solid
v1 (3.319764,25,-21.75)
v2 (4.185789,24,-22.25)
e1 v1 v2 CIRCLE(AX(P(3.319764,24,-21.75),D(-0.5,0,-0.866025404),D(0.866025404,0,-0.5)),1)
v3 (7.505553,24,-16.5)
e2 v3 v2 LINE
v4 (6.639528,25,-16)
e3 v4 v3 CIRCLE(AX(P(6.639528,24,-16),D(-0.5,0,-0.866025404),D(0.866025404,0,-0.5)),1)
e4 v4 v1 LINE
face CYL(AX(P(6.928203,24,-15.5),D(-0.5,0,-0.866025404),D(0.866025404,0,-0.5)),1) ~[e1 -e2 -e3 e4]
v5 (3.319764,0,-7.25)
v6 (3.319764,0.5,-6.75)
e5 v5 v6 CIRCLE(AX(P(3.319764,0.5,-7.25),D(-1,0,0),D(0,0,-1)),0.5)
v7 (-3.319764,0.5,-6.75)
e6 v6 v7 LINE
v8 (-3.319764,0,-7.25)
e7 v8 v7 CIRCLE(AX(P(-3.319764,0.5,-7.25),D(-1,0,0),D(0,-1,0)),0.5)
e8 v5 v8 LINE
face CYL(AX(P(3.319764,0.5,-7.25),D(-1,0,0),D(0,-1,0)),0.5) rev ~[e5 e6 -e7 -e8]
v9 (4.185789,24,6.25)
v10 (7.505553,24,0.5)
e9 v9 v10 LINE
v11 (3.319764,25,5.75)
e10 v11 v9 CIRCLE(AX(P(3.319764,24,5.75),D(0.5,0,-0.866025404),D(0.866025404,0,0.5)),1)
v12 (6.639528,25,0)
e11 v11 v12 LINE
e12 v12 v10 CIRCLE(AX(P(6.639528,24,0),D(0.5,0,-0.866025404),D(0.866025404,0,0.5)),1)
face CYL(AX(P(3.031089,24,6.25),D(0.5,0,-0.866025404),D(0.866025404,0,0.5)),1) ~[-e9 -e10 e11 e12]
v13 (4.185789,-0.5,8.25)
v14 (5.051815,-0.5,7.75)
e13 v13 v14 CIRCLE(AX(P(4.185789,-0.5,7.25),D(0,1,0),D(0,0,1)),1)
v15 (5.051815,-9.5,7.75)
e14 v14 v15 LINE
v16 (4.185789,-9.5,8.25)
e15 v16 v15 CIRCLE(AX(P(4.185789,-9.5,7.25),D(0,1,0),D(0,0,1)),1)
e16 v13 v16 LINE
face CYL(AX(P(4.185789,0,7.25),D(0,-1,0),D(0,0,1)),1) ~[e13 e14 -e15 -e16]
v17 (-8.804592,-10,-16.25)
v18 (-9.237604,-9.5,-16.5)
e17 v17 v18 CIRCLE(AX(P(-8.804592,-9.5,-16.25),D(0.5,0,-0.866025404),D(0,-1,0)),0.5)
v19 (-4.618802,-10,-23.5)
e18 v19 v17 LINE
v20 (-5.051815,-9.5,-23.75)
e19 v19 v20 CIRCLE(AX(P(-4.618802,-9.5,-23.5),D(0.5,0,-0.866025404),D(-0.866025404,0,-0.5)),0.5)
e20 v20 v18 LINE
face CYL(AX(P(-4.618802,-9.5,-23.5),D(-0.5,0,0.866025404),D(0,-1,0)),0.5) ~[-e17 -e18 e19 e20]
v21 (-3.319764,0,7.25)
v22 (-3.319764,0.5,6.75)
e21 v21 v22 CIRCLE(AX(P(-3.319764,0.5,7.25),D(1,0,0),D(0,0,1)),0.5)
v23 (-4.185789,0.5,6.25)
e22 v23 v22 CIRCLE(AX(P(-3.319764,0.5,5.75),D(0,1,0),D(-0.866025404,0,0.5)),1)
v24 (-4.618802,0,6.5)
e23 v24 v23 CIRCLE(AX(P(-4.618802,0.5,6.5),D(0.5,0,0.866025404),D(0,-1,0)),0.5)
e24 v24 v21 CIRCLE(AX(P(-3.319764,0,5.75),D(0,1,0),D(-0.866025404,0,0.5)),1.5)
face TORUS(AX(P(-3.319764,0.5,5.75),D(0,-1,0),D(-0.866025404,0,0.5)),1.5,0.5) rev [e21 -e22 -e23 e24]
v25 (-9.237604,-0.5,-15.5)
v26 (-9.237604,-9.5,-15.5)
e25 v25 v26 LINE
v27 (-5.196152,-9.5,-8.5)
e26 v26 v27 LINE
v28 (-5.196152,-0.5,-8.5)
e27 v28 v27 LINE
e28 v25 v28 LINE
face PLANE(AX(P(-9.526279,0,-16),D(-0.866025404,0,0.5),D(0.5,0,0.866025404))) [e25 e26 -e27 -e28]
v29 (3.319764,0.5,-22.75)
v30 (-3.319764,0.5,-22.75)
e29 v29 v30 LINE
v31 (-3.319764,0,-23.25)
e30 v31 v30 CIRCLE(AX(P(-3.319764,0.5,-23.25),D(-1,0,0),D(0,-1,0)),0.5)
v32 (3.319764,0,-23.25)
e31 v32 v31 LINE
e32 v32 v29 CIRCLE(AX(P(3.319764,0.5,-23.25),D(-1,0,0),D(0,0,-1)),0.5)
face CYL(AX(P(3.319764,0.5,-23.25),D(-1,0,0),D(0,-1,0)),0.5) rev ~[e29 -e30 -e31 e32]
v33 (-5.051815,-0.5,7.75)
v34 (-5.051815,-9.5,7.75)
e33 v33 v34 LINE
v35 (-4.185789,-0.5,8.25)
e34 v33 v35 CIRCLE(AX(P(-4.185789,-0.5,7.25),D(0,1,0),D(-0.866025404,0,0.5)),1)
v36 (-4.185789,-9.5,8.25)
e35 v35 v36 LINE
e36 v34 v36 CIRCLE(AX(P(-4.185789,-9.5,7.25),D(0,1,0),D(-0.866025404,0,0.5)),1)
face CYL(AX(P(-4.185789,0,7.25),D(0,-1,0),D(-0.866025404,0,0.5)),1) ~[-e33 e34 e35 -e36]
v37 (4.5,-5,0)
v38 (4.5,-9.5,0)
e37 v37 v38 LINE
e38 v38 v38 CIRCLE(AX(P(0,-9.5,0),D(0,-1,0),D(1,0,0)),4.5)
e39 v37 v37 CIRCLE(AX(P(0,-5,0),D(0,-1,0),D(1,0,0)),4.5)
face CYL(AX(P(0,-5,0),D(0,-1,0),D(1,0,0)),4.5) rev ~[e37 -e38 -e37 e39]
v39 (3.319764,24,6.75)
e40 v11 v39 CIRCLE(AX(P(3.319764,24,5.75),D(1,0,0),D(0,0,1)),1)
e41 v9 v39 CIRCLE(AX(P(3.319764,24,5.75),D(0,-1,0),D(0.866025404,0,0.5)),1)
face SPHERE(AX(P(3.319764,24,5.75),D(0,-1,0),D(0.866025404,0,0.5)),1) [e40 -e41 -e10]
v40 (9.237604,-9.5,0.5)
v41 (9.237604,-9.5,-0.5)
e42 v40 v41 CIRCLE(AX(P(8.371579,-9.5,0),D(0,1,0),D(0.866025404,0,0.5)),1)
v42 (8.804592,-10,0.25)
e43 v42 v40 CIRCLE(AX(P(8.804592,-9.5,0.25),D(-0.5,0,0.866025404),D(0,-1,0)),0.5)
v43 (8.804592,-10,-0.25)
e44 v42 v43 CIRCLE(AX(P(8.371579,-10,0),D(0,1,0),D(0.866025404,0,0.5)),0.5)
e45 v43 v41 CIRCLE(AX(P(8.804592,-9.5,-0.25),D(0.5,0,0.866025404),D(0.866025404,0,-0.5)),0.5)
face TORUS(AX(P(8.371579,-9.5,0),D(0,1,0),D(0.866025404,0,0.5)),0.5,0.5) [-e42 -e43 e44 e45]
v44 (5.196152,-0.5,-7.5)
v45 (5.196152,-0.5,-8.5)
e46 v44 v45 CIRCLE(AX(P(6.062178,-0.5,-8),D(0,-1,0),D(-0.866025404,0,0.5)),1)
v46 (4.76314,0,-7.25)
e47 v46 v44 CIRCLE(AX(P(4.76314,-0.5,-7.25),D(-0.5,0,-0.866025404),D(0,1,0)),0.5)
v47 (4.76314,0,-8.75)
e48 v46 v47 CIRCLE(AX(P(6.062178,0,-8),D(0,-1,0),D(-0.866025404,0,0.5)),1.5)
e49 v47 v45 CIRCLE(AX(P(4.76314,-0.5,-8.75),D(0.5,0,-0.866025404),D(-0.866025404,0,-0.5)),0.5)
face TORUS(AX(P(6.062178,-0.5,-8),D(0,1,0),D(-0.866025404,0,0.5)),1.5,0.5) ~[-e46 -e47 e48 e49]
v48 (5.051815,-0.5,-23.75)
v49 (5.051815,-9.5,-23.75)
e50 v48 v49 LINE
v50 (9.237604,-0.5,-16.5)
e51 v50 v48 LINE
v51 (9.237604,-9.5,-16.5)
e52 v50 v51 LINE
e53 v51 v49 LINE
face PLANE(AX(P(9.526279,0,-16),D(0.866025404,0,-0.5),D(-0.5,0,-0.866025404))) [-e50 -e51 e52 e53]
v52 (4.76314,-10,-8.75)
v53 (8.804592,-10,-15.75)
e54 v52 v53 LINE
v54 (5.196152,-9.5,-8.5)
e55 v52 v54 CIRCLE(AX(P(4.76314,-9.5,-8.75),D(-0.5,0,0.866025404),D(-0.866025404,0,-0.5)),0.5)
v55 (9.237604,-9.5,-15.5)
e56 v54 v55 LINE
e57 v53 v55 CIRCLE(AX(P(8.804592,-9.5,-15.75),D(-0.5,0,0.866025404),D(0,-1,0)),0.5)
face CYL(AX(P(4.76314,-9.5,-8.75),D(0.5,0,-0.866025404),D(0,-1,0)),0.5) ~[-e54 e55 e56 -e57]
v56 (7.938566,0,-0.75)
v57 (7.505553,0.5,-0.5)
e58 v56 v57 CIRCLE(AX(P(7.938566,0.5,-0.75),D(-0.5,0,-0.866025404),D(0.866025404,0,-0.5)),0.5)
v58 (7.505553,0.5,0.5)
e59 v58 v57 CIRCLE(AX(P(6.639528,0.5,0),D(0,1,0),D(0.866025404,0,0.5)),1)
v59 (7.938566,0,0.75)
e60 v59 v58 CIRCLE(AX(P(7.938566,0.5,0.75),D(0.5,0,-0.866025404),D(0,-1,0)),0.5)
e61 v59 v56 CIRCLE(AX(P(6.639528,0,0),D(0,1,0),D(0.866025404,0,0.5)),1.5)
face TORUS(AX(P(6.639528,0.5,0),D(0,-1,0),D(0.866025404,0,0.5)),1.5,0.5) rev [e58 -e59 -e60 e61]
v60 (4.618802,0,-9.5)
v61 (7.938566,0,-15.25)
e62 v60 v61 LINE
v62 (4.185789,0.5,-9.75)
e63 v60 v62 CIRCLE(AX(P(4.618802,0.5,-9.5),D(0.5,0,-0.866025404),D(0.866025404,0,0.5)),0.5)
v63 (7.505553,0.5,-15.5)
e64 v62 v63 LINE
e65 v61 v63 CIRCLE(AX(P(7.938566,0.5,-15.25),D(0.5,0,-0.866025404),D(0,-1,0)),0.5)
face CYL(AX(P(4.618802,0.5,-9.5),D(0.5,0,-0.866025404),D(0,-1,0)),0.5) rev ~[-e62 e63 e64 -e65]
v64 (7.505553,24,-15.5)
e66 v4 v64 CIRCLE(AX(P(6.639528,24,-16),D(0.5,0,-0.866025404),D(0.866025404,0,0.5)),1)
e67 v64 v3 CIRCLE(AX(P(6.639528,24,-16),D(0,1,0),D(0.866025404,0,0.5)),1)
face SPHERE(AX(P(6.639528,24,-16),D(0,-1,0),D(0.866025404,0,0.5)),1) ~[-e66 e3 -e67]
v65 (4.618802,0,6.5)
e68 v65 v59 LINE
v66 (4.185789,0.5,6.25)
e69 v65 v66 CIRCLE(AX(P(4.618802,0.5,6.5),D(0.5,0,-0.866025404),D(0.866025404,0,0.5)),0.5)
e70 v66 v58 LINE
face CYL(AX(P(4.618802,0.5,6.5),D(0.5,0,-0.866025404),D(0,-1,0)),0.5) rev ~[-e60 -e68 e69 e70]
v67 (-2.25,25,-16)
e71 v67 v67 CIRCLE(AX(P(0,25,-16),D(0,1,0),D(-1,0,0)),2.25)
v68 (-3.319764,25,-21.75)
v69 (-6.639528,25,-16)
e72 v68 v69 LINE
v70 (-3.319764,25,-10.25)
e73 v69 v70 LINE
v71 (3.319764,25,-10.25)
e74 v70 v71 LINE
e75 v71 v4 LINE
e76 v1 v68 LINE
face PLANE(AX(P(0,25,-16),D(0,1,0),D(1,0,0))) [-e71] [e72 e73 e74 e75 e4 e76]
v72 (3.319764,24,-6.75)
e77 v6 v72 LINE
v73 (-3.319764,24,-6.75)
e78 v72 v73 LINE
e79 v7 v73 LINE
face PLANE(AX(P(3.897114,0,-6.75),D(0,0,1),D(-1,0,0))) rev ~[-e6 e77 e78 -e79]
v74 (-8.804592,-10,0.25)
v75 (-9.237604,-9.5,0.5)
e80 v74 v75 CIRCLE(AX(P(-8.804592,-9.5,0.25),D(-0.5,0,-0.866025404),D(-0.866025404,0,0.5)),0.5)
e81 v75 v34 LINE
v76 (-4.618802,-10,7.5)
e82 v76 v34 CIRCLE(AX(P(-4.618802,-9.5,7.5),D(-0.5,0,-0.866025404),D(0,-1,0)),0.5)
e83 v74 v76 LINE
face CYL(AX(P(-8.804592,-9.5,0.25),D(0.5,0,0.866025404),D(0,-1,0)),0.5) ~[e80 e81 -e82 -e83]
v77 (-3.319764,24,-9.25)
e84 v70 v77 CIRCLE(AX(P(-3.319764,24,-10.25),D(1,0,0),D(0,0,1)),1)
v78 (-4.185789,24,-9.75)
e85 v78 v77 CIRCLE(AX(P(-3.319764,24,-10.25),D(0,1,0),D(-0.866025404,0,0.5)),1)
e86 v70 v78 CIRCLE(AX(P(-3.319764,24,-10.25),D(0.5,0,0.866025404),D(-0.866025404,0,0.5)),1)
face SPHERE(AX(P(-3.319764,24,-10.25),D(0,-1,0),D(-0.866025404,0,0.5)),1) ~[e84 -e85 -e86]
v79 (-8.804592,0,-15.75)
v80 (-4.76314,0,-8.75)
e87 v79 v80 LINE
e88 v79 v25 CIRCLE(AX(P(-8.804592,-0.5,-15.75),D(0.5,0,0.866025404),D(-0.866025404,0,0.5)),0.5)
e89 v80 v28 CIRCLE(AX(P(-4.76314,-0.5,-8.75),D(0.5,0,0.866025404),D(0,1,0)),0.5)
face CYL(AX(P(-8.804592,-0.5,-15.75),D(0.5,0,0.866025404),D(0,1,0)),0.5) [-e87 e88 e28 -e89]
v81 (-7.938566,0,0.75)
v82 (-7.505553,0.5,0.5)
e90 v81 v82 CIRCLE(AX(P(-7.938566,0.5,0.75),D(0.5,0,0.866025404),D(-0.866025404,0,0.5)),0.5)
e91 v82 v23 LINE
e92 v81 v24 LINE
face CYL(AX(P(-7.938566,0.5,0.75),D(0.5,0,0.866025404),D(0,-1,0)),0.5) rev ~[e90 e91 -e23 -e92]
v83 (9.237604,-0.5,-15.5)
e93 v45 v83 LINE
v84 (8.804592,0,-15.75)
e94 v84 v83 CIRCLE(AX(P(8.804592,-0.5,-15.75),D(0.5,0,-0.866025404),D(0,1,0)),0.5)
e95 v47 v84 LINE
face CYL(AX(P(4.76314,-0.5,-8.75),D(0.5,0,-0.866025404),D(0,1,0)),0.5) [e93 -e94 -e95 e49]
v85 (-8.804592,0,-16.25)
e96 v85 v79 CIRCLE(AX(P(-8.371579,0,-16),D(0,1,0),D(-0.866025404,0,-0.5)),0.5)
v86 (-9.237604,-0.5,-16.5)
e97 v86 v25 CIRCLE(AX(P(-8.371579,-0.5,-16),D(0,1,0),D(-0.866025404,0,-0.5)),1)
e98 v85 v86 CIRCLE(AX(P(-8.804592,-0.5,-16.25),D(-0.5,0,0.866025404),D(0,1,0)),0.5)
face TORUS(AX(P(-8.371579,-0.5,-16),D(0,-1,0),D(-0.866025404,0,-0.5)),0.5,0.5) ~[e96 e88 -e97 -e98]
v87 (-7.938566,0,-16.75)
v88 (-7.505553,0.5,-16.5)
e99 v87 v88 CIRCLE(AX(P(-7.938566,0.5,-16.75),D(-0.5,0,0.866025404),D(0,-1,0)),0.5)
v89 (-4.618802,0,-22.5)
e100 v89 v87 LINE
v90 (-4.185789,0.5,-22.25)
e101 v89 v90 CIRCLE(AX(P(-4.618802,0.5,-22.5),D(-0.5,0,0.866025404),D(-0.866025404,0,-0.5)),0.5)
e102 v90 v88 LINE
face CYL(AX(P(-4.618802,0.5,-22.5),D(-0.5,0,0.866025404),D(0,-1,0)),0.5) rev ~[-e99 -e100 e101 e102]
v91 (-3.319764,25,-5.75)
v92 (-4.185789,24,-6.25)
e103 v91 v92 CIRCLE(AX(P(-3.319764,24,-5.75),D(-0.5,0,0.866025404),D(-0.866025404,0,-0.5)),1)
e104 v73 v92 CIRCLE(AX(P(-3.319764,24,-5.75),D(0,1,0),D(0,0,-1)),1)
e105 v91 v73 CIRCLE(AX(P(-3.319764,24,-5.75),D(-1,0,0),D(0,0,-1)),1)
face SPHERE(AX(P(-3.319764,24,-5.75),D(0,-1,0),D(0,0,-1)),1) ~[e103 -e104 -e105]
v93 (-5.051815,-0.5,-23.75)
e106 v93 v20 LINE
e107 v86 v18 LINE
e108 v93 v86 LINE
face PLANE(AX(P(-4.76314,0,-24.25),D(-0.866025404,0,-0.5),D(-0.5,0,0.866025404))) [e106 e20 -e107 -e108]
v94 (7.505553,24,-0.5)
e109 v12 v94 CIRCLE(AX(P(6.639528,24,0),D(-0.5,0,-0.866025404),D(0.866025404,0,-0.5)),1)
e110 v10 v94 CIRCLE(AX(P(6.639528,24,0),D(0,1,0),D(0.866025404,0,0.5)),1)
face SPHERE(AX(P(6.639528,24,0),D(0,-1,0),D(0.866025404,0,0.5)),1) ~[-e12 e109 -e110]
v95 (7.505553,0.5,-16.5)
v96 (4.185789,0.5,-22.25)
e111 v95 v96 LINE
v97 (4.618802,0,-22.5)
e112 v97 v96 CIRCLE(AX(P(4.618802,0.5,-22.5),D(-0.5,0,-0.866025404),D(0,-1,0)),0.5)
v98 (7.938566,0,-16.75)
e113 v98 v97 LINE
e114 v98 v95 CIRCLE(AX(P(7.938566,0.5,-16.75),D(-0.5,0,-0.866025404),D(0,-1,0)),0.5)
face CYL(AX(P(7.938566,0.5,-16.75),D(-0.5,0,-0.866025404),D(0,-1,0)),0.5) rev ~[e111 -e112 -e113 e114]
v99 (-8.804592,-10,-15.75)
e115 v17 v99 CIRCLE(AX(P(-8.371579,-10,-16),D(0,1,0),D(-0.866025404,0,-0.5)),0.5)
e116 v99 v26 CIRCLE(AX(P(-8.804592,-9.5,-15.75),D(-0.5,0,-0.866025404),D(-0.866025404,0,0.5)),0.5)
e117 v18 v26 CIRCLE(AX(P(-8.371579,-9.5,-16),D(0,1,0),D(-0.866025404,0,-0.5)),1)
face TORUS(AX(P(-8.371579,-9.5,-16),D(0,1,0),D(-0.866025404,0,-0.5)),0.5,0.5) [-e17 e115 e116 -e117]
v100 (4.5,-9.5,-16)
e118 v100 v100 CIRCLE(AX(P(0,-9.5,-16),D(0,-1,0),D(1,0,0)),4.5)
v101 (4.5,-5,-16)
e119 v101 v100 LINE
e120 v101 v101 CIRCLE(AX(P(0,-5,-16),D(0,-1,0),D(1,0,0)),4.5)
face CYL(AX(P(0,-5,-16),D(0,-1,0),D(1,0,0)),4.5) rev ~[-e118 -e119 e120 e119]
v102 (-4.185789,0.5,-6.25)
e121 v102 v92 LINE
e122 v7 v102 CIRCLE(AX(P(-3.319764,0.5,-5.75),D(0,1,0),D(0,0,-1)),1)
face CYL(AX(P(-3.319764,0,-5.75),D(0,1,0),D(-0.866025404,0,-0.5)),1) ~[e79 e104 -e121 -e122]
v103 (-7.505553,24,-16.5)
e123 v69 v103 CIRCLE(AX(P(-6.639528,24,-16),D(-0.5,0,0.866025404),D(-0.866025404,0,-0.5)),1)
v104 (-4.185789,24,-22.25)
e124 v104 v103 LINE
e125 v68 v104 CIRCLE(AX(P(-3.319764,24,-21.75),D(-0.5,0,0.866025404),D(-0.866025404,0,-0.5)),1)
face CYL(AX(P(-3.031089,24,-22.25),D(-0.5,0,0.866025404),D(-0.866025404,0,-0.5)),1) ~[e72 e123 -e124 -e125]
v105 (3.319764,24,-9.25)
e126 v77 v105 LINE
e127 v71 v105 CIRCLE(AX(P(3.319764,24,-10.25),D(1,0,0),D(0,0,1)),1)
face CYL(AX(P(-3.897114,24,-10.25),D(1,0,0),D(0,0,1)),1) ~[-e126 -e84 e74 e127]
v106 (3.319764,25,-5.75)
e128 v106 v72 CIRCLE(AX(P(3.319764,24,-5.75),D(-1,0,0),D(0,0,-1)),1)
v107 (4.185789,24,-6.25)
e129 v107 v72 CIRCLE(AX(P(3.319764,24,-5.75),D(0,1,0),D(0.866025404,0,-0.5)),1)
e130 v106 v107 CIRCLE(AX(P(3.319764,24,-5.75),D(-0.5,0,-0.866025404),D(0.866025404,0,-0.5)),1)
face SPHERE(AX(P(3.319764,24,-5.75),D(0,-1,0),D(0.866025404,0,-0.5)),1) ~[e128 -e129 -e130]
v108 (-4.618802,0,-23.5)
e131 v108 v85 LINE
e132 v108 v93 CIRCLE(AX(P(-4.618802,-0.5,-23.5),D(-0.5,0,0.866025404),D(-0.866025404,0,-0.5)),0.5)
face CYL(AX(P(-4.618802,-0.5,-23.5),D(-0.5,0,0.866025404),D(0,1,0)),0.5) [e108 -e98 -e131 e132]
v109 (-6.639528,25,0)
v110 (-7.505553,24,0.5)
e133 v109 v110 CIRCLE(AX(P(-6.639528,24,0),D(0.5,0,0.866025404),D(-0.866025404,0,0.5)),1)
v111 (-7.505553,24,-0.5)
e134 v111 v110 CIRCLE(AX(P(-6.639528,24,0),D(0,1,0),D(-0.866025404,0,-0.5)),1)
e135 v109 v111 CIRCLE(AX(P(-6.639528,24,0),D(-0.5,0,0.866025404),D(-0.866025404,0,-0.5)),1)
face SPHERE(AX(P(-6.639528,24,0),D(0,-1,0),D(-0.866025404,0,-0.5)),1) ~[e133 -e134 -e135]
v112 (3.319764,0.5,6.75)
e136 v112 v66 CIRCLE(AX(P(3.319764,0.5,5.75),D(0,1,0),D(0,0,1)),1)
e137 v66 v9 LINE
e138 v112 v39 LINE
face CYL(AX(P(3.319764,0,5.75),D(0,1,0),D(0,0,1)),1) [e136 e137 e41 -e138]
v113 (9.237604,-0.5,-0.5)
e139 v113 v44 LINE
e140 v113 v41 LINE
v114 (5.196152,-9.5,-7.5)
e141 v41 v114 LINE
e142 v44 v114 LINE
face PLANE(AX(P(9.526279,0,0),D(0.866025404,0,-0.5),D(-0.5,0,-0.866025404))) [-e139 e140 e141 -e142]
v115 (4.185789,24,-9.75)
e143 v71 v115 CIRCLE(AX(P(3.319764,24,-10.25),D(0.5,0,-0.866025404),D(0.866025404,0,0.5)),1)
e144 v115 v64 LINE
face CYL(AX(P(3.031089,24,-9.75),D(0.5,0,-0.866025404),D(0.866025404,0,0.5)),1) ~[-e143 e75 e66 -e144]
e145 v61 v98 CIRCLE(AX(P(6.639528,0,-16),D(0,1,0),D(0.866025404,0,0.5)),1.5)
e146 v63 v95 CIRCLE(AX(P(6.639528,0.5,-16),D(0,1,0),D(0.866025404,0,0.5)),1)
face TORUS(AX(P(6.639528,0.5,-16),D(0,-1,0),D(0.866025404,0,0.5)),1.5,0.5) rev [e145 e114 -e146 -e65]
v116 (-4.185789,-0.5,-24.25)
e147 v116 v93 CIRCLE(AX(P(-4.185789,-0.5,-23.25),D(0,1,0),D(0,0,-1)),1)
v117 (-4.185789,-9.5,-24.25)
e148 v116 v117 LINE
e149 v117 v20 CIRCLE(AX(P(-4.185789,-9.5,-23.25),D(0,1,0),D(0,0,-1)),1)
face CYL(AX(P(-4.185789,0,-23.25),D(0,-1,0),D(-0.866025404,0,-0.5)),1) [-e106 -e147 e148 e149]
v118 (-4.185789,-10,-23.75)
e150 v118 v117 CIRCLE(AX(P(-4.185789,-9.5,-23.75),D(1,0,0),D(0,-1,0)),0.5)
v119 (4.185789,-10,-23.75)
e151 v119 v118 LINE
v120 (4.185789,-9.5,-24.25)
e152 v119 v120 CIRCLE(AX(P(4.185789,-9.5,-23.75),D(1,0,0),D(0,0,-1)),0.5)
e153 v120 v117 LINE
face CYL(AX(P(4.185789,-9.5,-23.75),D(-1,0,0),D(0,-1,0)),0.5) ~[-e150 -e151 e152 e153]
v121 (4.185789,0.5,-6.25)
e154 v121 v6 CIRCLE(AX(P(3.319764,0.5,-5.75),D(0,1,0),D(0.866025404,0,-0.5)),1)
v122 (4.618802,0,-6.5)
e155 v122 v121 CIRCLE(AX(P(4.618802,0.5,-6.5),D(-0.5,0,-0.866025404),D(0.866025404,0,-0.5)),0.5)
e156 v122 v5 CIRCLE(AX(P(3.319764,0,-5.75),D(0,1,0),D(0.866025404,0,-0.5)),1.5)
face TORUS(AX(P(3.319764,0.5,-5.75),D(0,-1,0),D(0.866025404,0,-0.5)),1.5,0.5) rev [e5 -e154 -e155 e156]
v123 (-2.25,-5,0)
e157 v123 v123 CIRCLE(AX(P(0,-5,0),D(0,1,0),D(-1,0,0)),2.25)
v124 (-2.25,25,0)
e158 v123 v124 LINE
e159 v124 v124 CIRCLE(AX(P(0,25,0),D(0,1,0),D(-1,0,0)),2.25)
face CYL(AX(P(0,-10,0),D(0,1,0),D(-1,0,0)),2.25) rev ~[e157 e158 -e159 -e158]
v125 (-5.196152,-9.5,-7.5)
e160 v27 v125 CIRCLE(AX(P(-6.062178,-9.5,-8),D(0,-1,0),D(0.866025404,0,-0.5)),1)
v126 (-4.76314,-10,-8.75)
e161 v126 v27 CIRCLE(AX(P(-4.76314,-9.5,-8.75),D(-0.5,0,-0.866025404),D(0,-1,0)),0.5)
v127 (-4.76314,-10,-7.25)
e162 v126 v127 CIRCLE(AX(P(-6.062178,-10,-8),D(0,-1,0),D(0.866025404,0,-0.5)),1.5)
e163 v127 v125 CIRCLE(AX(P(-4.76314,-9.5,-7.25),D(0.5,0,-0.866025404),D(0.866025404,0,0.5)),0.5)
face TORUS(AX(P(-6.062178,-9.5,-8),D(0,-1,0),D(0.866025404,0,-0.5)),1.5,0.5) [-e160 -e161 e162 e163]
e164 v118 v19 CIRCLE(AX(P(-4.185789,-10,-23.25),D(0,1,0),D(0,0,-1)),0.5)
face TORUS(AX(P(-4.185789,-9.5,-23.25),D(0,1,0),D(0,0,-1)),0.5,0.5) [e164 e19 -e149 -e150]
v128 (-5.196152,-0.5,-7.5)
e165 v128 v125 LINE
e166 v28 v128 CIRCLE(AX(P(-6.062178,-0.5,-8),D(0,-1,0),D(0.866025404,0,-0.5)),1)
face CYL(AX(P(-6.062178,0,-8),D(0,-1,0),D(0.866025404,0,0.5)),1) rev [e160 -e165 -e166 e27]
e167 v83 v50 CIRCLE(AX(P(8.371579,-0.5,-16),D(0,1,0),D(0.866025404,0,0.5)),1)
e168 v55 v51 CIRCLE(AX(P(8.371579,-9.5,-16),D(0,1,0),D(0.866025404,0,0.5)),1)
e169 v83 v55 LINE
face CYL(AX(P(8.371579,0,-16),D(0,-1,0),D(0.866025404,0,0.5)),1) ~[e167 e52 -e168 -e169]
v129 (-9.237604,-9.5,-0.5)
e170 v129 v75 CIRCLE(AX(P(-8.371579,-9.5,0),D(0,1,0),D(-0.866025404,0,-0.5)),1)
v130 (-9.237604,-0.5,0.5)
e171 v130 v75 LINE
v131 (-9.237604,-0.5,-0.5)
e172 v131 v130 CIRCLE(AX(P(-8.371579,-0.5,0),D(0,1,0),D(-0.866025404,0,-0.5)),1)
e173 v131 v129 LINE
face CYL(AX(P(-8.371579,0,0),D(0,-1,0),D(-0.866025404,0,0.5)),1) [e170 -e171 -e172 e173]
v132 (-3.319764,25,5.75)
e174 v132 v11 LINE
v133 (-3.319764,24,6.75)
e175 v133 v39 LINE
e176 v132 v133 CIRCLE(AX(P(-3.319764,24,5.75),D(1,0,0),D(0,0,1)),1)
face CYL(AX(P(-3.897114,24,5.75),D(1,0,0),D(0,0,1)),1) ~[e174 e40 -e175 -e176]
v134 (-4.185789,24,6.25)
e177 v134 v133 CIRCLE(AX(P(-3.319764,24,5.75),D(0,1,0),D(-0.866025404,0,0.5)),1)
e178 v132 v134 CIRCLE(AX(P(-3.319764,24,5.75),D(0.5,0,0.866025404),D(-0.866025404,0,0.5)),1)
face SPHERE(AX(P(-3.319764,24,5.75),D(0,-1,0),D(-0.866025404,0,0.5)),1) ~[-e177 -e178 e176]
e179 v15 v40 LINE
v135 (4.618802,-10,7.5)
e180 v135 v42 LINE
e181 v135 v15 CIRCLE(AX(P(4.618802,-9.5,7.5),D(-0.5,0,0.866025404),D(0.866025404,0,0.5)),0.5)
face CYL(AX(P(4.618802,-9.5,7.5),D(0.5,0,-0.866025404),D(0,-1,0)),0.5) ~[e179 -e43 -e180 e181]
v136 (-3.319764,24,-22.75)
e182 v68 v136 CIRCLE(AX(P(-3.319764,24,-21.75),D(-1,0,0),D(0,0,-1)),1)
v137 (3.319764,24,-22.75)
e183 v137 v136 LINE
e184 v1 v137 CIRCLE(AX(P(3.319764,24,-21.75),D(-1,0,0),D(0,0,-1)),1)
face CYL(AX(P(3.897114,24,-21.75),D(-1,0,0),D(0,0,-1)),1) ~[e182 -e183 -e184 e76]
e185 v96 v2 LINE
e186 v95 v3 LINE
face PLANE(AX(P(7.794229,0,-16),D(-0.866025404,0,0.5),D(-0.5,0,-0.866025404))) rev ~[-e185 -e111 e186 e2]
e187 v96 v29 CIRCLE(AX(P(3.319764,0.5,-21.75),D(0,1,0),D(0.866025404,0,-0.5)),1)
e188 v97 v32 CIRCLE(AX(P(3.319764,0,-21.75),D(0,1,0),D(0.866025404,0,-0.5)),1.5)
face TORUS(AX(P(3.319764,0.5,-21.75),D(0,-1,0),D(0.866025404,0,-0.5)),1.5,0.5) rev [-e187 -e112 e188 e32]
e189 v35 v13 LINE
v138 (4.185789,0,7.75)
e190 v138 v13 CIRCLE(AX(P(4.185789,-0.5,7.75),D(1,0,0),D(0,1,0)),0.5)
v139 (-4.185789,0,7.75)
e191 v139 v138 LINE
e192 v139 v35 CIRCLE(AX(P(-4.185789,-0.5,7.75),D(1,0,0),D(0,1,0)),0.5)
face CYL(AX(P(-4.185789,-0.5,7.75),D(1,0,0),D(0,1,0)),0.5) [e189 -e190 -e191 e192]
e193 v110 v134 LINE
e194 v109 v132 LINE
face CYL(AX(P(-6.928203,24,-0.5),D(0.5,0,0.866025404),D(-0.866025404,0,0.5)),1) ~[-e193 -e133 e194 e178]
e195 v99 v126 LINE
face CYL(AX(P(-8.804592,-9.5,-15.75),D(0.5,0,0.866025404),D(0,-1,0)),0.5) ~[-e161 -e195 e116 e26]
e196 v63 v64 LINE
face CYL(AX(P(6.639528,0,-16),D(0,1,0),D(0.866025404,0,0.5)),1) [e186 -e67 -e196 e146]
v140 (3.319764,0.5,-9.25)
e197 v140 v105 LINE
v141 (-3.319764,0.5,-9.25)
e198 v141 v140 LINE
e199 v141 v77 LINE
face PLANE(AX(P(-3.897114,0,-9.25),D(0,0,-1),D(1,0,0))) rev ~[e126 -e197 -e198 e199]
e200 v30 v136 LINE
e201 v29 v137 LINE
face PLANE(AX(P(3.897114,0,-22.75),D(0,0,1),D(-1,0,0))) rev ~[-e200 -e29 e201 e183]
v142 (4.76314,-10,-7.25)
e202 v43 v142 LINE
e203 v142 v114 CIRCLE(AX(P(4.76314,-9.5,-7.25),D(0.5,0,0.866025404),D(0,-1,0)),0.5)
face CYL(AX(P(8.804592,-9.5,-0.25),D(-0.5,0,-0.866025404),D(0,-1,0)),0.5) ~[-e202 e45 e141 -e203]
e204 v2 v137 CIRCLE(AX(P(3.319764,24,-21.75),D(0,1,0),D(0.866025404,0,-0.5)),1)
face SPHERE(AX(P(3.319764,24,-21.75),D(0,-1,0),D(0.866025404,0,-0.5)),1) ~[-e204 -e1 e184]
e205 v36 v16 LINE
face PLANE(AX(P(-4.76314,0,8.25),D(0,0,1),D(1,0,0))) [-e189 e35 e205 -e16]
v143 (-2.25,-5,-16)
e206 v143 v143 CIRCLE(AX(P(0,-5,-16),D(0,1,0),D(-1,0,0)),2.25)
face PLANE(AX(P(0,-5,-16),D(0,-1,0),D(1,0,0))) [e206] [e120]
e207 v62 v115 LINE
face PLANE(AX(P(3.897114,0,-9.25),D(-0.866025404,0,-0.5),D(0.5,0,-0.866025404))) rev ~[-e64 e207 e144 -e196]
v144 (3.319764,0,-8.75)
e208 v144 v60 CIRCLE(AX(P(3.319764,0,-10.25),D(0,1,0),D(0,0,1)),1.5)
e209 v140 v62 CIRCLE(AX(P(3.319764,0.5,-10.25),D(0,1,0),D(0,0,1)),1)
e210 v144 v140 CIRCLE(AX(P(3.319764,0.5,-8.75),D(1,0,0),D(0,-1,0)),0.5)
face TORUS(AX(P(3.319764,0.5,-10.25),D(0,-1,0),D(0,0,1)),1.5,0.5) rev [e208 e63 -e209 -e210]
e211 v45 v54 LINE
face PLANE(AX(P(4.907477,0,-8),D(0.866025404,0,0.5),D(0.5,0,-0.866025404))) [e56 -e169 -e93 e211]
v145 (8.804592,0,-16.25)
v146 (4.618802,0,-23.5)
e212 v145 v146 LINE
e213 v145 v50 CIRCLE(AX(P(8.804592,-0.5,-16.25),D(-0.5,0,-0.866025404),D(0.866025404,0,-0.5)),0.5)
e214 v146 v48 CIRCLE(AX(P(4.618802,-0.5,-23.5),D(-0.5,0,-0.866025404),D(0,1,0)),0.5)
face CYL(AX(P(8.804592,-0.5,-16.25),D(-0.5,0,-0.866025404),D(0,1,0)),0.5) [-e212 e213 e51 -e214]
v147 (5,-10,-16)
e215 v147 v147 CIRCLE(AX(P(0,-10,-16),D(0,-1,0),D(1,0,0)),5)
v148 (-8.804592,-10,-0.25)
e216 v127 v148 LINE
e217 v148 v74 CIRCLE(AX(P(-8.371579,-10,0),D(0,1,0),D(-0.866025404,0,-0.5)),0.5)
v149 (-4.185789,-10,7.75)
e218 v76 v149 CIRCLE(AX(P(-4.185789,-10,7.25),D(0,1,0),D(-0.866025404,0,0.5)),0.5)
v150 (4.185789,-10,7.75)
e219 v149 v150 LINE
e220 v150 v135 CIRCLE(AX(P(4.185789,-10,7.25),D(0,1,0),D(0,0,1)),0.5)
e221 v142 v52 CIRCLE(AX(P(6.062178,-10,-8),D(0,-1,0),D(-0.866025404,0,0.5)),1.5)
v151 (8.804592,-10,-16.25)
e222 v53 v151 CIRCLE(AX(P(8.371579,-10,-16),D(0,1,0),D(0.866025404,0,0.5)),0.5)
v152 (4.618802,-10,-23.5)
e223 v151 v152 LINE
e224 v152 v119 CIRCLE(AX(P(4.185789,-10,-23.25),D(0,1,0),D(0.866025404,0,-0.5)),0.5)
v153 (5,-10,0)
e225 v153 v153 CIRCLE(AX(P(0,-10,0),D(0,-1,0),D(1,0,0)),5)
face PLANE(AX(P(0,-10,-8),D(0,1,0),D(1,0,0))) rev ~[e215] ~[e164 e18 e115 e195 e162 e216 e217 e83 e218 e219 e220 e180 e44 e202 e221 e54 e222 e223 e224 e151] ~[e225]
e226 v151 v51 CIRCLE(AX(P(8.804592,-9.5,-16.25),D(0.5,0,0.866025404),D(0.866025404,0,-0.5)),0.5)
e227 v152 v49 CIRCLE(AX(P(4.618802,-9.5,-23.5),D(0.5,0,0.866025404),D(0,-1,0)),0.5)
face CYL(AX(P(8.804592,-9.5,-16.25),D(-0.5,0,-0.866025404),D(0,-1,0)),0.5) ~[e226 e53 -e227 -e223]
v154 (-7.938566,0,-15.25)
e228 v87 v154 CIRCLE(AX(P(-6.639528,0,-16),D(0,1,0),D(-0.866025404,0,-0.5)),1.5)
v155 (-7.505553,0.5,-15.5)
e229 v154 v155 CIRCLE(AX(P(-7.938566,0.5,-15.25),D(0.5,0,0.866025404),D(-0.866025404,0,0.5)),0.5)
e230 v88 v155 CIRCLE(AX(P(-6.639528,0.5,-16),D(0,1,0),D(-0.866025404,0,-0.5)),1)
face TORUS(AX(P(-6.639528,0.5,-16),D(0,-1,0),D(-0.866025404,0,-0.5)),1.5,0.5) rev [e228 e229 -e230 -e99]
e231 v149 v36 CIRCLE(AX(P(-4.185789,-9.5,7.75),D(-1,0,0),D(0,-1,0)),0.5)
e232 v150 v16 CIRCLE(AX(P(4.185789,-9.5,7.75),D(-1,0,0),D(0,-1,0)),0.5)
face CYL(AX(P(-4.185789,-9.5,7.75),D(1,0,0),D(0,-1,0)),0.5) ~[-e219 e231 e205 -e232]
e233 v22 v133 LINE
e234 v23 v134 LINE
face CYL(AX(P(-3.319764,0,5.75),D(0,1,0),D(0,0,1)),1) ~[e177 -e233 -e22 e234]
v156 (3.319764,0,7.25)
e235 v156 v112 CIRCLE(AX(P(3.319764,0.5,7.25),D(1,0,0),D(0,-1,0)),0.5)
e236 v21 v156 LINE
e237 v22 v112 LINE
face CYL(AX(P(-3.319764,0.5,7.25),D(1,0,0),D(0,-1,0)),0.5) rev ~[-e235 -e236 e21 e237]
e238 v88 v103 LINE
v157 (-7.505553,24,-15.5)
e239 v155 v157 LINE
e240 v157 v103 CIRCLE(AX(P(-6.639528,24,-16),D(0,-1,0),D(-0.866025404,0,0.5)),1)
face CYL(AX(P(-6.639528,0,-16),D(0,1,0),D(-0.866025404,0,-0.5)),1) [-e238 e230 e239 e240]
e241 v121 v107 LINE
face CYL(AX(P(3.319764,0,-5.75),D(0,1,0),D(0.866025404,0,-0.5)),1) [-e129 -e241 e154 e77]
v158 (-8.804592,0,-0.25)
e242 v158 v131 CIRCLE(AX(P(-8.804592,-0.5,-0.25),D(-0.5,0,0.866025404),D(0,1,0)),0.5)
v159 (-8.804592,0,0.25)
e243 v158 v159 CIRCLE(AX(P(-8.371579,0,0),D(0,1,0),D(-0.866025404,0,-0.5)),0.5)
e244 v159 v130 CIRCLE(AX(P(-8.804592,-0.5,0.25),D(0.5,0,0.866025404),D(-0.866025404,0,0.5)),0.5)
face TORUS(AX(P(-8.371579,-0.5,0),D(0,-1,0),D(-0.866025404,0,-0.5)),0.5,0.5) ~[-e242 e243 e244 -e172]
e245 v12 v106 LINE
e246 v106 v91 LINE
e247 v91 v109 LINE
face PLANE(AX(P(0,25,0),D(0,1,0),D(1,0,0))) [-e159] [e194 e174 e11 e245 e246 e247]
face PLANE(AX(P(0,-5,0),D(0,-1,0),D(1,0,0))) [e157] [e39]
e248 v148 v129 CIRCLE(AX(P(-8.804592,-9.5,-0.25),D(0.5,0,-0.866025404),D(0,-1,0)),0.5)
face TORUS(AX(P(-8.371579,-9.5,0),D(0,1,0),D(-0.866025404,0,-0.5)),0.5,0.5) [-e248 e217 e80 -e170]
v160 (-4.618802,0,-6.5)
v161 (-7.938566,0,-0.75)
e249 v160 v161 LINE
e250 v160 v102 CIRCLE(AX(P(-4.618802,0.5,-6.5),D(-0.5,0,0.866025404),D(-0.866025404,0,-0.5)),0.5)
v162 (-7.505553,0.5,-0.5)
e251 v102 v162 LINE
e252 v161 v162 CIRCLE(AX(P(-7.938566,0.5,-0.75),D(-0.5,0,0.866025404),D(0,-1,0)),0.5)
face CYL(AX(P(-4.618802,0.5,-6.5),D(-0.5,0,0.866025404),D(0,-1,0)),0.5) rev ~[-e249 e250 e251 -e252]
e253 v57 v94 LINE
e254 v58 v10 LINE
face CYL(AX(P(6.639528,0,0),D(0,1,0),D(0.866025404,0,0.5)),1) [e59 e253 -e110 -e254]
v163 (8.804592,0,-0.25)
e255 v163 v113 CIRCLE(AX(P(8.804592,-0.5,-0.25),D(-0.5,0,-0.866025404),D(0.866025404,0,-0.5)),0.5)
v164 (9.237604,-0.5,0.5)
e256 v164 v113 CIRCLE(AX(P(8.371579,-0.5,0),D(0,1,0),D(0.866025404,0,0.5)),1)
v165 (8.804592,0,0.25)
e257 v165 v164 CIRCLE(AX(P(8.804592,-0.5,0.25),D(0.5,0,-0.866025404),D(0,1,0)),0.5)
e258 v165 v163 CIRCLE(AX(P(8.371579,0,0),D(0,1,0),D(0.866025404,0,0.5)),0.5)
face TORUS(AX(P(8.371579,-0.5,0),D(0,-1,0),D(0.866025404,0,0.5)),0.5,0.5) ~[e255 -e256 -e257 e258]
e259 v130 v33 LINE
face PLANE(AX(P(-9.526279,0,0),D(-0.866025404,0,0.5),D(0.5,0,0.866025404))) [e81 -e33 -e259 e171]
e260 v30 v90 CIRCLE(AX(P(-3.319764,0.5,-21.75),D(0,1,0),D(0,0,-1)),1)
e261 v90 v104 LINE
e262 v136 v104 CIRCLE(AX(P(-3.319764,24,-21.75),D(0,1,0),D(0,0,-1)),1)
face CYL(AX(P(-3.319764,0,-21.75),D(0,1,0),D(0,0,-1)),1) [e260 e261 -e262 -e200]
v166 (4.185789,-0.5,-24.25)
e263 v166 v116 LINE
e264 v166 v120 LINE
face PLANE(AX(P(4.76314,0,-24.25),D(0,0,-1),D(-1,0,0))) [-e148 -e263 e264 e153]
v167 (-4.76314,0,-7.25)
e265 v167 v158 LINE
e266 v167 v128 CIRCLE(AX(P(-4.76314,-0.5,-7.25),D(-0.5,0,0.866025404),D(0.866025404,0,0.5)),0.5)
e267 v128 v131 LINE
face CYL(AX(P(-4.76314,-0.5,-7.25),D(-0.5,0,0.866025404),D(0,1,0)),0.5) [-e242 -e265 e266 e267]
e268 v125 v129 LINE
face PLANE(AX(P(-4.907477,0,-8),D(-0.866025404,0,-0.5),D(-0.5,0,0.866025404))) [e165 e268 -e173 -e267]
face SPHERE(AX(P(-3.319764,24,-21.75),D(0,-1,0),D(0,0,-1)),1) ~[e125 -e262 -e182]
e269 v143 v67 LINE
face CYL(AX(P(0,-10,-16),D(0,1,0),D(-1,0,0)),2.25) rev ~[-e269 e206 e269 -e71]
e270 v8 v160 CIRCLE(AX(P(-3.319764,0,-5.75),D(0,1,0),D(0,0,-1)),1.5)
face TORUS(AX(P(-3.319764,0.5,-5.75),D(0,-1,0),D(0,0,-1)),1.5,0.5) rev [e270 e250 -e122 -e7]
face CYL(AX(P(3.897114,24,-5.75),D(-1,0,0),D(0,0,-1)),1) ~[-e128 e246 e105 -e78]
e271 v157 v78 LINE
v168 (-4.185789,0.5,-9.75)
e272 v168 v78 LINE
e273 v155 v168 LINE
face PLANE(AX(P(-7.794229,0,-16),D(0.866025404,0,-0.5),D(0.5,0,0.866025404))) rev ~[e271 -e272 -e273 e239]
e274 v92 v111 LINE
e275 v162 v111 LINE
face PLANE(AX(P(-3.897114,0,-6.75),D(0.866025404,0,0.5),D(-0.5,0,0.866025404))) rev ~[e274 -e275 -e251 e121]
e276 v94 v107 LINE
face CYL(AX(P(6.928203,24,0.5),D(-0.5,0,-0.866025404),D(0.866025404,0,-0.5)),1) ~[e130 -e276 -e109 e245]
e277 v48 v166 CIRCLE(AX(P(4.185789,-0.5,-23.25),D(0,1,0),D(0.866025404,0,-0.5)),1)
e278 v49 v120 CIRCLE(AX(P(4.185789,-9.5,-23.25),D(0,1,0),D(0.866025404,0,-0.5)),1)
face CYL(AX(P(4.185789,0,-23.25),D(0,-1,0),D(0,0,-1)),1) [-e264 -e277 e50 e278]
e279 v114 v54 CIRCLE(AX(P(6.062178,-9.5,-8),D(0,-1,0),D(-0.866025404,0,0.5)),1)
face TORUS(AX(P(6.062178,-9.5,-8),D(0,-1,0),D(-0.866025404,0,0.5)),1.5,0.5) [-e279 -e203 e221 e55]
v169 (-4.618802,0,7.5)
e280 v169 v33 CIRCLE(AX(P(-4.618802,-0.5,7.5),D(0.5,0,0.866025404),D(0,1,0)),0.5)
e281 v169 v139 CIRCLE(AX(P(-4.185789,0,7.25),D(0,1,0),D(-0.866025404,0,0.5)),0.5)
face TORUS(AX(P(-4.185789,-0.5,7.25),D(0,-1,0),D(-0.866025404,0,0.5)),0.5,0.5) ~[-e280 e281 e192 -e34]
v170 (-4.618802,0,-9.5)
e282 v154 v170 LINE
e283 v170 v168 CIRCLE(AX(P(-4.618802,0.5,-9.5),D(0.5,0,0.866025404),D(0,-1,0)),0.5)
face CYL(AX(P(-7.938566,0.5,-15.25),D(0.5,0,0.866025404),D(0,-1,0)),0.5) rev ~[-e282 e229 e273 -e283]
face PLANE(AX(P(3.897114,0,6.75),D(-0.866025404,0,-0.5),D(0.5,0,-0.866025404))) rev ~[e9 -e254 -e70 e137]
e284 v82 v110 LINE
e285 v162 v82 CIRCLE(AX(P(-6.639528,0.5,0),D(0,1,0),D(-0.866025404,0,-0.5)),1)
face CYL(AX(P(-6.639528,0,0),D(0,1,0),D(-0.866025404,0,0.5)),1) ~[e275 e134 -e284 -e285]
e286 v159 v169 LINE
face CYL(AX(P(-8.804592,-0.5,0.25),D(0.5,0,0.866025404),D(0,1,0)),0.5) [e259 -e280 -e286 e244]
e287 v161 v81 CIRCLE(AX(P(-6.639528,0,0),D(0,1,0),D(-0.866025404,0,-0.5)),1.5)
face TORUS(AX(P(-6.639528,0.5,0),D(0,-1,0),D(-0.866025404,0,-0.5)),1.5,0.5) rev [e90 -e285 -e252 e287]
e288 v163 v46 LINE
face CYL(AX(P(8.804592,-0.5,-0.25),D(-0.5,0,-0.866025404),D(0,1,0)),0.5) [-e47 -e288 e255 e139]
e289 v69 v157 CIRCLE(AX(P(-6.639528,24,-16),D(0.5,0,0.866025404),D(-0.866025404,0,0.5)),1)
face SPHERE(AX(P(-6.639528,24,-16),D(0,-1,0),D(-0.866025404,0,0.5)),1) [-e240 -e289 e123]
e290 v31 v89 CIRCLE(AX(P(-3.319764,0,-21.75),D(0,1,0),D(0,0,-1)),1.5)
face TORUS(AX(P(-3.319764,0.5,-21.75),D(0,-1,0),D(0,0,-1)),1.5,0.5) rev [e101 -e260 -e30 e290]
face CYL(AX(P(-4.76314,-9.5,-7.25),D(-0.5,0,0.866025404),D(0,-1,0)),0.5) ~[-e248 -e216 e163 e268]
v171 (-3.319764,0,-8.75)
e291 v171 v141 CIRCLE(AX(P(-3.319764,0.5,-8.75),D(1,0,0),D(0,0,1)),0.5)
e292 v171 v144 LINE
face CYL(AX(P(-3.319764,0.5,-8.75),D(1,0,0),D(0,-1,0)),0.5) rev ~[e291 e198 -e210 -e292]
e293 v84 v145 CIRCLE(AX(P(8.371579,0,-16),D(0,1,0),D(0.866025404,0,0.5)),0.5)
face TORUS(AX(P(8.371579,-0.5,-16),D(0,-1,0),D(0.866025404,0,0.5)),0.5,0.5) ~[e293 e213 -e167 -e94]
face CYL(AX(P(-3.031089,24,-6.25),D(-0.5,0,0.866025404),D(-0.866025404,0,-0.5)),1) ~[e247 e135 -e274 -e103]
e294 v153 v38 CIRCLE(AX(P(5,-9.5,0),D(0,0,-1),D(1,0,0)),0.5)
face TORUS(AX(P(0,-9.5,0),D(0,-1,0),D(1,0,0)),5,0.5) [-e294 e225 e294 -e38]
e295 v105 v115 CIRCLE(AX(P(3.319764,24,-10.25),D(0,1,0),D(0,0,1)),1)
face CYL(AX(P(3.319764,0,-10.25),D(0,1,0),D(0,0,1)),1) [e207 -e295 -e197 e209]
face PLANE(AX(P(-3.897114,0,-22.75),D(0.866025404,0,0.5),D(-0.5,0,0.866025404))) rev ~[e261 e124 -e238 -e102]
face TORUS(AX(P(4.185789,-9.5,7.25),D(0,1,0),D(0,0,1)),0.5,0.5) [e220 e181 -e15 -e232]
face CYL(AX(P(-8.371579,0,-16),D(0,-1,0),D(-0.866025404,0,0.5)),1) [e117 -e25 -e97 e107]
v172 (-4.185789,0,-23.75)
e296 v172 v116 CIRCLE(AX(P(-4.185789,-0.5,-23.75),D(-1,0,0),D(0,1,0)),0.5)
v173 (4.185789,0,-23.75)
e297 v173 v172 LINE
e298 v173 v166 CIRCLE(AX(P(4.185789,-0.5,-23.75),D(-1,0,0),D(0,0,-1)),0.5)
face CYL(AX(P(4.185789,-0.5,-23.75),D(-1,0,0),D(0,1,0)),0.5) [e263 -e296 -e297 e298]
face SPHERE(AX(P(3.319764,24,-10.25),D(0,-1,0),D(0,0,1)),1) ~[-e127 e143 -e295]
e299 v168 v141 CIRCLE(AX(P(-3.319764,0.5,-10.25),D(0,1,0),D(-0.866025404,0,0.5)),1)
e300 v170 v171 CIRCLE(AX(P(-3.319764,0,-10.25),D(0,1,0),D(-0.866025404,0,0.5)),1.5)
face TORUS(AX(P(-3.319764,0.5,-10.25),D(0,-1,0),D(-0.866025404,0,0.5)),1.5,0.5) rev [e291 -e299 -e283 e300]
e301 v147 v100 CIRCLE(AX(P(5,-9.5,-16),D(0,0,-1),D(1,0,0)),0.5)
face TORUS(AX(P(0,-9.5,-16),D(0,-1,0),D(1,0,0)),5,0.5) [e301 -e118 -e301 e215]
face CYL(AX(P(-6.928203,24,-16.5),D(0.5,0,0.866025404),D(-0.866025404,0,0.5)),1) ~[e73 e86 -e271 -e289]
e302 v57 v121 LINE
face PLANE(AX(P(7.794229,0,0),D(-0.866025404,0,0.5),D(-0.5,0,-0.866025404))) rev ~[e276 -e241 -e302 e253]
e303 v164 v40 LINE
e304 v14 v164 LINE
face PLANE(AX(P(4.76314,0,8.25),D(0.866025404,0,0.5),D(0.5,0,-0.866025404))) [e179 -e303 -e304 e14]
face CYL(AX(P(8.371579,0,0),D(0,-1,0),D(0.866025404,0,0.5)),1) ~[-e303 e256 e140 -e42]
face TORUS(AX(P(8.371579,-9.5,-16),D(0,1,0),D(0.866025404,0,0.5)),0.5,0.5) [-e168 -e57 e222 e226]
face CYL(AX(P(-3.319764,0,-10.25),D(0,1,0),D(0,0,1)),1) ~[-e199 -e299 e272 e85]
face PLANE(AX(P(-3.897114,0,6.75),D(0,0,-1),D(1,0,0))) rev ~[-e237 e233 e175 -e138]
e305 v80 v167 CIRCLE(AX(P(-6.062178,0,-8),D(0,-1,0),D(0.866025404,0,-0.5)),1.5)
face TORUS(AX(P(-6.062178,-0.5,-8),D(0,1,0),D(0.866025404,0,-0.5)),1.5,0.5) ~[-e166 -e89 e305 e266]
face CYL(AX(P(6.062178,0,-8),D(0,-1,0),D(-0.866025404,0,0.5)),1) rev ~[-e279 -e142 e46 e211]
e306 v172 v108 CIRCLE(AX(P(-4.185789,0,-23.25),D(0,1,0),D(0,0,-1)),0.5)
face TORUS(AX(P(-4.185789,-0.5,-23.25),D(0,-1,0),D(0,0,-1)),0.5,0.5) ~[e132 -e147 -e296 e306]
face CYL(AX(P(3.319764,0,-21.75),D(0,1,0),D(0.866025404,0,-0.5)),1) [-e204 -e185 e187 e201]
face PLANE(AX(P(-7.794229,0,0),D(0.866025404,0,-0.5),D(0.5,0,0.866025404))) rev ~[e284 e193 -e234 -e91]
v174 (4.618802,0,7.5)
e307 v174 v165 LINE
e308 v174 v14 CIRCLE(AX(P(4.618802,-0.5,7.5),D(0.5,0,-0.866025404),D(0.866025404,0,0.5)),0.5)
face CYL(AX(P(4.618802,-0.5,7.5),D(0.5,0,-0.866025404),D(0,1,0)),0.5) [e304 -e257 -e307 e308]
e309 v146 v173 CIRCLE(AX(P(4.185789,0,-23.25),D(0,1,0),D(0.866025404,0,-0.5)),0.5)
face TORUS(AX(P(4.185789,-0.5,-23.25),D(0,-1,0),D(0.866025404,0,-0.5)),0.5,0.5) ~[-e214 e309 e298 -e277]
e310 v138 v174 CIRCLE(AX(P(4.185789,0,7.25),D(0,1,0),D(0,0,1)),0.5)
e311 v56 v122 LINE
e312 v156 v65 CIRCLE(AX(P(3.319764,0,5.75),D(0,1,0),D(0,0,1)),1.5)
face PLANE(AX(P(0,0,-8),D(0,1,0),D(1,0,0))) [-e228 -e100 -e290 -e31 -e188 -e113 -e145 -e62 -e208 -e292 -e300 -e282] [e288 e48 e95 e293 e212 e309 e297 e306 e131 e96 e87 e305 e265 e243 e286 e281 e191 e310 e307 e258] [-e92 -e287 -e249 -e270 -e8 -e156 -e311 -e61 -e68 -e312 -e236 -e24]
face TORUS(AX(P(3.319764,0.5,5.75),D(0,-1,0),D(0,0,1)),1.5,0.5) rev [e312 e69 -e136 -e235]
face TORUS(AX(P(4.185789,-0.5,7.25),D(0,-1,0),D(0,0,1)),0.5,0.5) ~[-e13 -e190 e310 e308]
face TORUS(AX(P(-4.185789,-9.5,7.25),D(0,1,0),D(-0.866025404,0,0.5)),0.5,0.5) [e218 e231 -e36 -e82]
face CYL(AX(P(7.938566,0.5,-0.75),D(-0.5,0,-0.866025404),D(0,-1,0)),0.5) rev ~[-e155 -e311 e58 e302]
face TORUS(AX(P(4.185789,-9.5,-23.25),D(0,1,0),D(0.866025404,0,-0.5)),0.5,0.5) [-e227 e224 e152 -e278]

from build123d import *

# Parameters (mm, degrees)
BOSS_EXTRUDE1_DEPTH                      = 25
BOSS_EXTRUDE1_2_DEPTH                    = 25
BOSS_EXTRUDE2_DEPTH                      = 10
FILLET1_R                                = 1
CBORE_FOR_M4_PAN_HEAD_SCREW1_D           = 4.5
CBORE_FOR_M4_PAN_HEAD_SCREW1_CBORE_D     = 9
CBORE_FOR_M4_PAN_HEAD_SCREW1_CBORE_DEPTH = 5
FILLET2_R                                = 0.5
FILLET3_R                                = 0.5


with BuildPart() as part:
    # Sketch1 → Boss-Extrude1 (new body)
    with BuildSketch(Plane(origin=(0, 0, 0), x_dir=(1, 0, 0), z_dir=(0, 1, 0))):
        Polygon((-3.897114317, -6.75), (3.897114317, -6.75), (7.794228634, 0), (3.897114317, 6.75), (-3.897114317, 6.75), (-7.794228634, 0), align=None)
    extrude(amount=BOSS_EXTRUDE1_DEPTH)



with BuildPart() as body_2:
    # Sketch1 → Boss-Extrude1 2 (new body)
    with BuildSketch(Plane(origin=(0, 0, 0), x_dir=(1, 0, 0), z_dir=(0, 1, 0))):
        Polygon((-3.897114317, 9.25), (3.897114317, 9.25), (7.794228634, 16), (3.897114317, 22.75), (-3.897114317, 22.75), (-7.794228634, 16), align=None)
    extrude(amount=BOSS_EXTRUDE1_2_DEPTH)


with BuildPart() as part_1:
    add(part.part)

    add(body_2.part)  # Boss-Extrude2 merges body 2
    # Sketch1<3> → Boss-Extrude2 (add)
    with BuildSketch(Plane(origin=(0, 0, 0), x_dir=(1, 0, 0), z_dir=(0, 1, 0))):
        Polygon((9.526279442, 0), (4.907477288, 8), (9.526279442, 16), (4.763139721, 24.25), (-4.763139721, 24.25), (-9.526279442, 16), (-4.907477288, 8), (-9.526279442, 0), (-4.763139721, -8.25), (4.763139721, -8.25), align=None)
    extrude(amount=-BOSS_EXTRUDE2_DEPTH)

    # Fillet1
    fillet1_edges = [part_1.edges().sort_by_distance(p)[0] for p in [
        (-5.845671476, 25, -3.375),
        (0, 25, -6.75),
        (5.845671476, 25, -3.375),
        (5.845671476, 25, 3.375),
        (0, 25, 6.75),
        (-5.845671476, 25, 3.375),
        (-5.845671476, 25, -19.375),
        (0, 25, -22.75),
        (5.845671476, 25, -19.375),
        (5.845671476, 25, -12.625),
        (0, 25, -9.25),
        (-5.845671476, 25, -12.625),
        (4.763139721, -5, 8.25),
        (9.526279442, -5, 0),
        (4.907477288, -5, -8),
        (9.526279442, -5, -16),
        (4.763139721, -5, -24.25),
        (-4.763139721, -5, -24.25),
        (-9.526279442, -5, -16),
        (-4.907477288, -5, -8),
        (-9.526279442, -5, 0),
        (-4.763139721, -5, 8.25),
        (7.794228634, 12.5, -16),
        (3.897114317, 12.5, -22.75),
        (-3.897114317, 12.5, -22.75),
        (-7.794228634, 12.5, -16),
        (-3.897114317, 12.5, -9.25),
        (3.897114317, 12.5, -9.25),
        (3.897114317, 12.5, -6.75),
        (-3.897114317, 12.5, -6.75),
        (-7.794228634, 12.5, 0),
        (-3.897114317, 12.5, 6.75),
        (3.897114317, 12.5, 6.75),
        (7.794228634, 12.5, 0),
    ]]
    fillet(fillet1_edges, radius=FILLET1_R)

    # CBORE for M4 Pan Head Screw1 (through all)
    with Locations(Plane.XZ.offset(10)):
        with Locations((0, 0), (0, -16)):
            CounterBoreHole(CBORE_FOR_M4_PAN_HEAD_SCREW1_D / 2, CBORE_FOR_M4_PAN_HEAD_SCREW1_CBORE_D / 2, CBORE_FOR_M4_PAN_HEAD_SCREW1_CBORE_DEPTH)

    # Fillet2
    fillet2_edges = [part_1.edges().sort_by_distance(p)[0] for p in [
        (9.371578903, -10, 0),
        (7.216878365, -10, -4),
        (5.062177826, -10, -8),
        (7.216878365, -10, -12),
        (9.371578903, -10, -16),
        (7.144709581, -10, -20.125),
        (4.685789452, -10, -24.116025404),
        (0, -10, -24.25),
        (-4.685789452, -10, -24.116025404),
        (-7.144709581, -10, -20.125),
        (-9.371578903, -10, -16),
        (-7.216878365, -10, -12),
        (-5.062177826, -10, -8),
        (-7.216878365, -10, -4),
        (-9.371578903, -10, 0),
        (-7.144709581, -10, 4.125),
        (-4.685789452, -10, 8.116025404),
        (0, -10, 8.25),
        (4.685789452, -10, 8.116025404),
        (7.144709581, -10, 4.125),
        (-4.5, -10, -16),
        (-4.5, -10, 0),
    ]]
    fillet(fillet2_edges, radius=FILLET2_R)

    # Fillet3
    fillet3_edges = [part_1.edges().sort_by_distance(p)[0] for p in [
        (-3.819764048, 0, -6.616025404),
        (0, 0, -6.75),
        (3.819764048, 0, -6.616025404),
        (5.845671476, 0, -3.375),
        (7.639528096, 0, 0),
        (5.845671476, 0, 3.375),
        (3.819764048, 0, 6.616025404),
        (0, 0, 6.75),
        (-3.819764048, 0, 6.616025404),
        (-5.845671476, 0, 3.375),
        (-7.639528096, 0, 0),
        (-7.639528096, 0, -16),
        (-5.845671476, 0, -19.375),
        (-3.819764048, 0, -22.616025404),
        (0, 0, -22.75),
        (3.819764048, 0, -22.616025404),
        (5.845671476, 0, -19.375),
        (7.639528096, 0, -16),
        (5.845671476, 0, -12.625),
        (3.819764048, 0, -9.383974596),
        (0, 0, -9.25),
        (-3.819764048, 0, -9.383974596),
        (-5.845671476, 0, -3.375),
        (-5.845671476, 0, -12.625),
        (-4.685789452, 0, 8.116025404),
        (-7.144709581, 0, 4.125),
        (-9.371578903, 0, 0),
        (-7.216878365, 0, -4),
        (-5.062177826, 0, -8),
        (-7.216878365, 0, -12),
        (-9.371578903, 0, -16),
        (-7.144709581, 0, -20.125),
        (-4.685789452, 0, -24.116025404),
        (0, 0, -24.25),
        (4.685789452, 0, -24.116025404),
        (7.144709581, 0, -20.125),
        (9.371578903, 0, -16),
        (7.216878365, 0, -12),
        (5.062177826, 0, -8),
        (7.216878365, 0, -4),
        (9.371578903, 0, 0),
        (7.144709581, 0, 4.125),
        (4.685789452, 0, 8.116025404),
        (0, 0, 8.25),
    ]]
    fillet(fillet3_edges, radius=FILLET3_R)


solid = part_1.part
